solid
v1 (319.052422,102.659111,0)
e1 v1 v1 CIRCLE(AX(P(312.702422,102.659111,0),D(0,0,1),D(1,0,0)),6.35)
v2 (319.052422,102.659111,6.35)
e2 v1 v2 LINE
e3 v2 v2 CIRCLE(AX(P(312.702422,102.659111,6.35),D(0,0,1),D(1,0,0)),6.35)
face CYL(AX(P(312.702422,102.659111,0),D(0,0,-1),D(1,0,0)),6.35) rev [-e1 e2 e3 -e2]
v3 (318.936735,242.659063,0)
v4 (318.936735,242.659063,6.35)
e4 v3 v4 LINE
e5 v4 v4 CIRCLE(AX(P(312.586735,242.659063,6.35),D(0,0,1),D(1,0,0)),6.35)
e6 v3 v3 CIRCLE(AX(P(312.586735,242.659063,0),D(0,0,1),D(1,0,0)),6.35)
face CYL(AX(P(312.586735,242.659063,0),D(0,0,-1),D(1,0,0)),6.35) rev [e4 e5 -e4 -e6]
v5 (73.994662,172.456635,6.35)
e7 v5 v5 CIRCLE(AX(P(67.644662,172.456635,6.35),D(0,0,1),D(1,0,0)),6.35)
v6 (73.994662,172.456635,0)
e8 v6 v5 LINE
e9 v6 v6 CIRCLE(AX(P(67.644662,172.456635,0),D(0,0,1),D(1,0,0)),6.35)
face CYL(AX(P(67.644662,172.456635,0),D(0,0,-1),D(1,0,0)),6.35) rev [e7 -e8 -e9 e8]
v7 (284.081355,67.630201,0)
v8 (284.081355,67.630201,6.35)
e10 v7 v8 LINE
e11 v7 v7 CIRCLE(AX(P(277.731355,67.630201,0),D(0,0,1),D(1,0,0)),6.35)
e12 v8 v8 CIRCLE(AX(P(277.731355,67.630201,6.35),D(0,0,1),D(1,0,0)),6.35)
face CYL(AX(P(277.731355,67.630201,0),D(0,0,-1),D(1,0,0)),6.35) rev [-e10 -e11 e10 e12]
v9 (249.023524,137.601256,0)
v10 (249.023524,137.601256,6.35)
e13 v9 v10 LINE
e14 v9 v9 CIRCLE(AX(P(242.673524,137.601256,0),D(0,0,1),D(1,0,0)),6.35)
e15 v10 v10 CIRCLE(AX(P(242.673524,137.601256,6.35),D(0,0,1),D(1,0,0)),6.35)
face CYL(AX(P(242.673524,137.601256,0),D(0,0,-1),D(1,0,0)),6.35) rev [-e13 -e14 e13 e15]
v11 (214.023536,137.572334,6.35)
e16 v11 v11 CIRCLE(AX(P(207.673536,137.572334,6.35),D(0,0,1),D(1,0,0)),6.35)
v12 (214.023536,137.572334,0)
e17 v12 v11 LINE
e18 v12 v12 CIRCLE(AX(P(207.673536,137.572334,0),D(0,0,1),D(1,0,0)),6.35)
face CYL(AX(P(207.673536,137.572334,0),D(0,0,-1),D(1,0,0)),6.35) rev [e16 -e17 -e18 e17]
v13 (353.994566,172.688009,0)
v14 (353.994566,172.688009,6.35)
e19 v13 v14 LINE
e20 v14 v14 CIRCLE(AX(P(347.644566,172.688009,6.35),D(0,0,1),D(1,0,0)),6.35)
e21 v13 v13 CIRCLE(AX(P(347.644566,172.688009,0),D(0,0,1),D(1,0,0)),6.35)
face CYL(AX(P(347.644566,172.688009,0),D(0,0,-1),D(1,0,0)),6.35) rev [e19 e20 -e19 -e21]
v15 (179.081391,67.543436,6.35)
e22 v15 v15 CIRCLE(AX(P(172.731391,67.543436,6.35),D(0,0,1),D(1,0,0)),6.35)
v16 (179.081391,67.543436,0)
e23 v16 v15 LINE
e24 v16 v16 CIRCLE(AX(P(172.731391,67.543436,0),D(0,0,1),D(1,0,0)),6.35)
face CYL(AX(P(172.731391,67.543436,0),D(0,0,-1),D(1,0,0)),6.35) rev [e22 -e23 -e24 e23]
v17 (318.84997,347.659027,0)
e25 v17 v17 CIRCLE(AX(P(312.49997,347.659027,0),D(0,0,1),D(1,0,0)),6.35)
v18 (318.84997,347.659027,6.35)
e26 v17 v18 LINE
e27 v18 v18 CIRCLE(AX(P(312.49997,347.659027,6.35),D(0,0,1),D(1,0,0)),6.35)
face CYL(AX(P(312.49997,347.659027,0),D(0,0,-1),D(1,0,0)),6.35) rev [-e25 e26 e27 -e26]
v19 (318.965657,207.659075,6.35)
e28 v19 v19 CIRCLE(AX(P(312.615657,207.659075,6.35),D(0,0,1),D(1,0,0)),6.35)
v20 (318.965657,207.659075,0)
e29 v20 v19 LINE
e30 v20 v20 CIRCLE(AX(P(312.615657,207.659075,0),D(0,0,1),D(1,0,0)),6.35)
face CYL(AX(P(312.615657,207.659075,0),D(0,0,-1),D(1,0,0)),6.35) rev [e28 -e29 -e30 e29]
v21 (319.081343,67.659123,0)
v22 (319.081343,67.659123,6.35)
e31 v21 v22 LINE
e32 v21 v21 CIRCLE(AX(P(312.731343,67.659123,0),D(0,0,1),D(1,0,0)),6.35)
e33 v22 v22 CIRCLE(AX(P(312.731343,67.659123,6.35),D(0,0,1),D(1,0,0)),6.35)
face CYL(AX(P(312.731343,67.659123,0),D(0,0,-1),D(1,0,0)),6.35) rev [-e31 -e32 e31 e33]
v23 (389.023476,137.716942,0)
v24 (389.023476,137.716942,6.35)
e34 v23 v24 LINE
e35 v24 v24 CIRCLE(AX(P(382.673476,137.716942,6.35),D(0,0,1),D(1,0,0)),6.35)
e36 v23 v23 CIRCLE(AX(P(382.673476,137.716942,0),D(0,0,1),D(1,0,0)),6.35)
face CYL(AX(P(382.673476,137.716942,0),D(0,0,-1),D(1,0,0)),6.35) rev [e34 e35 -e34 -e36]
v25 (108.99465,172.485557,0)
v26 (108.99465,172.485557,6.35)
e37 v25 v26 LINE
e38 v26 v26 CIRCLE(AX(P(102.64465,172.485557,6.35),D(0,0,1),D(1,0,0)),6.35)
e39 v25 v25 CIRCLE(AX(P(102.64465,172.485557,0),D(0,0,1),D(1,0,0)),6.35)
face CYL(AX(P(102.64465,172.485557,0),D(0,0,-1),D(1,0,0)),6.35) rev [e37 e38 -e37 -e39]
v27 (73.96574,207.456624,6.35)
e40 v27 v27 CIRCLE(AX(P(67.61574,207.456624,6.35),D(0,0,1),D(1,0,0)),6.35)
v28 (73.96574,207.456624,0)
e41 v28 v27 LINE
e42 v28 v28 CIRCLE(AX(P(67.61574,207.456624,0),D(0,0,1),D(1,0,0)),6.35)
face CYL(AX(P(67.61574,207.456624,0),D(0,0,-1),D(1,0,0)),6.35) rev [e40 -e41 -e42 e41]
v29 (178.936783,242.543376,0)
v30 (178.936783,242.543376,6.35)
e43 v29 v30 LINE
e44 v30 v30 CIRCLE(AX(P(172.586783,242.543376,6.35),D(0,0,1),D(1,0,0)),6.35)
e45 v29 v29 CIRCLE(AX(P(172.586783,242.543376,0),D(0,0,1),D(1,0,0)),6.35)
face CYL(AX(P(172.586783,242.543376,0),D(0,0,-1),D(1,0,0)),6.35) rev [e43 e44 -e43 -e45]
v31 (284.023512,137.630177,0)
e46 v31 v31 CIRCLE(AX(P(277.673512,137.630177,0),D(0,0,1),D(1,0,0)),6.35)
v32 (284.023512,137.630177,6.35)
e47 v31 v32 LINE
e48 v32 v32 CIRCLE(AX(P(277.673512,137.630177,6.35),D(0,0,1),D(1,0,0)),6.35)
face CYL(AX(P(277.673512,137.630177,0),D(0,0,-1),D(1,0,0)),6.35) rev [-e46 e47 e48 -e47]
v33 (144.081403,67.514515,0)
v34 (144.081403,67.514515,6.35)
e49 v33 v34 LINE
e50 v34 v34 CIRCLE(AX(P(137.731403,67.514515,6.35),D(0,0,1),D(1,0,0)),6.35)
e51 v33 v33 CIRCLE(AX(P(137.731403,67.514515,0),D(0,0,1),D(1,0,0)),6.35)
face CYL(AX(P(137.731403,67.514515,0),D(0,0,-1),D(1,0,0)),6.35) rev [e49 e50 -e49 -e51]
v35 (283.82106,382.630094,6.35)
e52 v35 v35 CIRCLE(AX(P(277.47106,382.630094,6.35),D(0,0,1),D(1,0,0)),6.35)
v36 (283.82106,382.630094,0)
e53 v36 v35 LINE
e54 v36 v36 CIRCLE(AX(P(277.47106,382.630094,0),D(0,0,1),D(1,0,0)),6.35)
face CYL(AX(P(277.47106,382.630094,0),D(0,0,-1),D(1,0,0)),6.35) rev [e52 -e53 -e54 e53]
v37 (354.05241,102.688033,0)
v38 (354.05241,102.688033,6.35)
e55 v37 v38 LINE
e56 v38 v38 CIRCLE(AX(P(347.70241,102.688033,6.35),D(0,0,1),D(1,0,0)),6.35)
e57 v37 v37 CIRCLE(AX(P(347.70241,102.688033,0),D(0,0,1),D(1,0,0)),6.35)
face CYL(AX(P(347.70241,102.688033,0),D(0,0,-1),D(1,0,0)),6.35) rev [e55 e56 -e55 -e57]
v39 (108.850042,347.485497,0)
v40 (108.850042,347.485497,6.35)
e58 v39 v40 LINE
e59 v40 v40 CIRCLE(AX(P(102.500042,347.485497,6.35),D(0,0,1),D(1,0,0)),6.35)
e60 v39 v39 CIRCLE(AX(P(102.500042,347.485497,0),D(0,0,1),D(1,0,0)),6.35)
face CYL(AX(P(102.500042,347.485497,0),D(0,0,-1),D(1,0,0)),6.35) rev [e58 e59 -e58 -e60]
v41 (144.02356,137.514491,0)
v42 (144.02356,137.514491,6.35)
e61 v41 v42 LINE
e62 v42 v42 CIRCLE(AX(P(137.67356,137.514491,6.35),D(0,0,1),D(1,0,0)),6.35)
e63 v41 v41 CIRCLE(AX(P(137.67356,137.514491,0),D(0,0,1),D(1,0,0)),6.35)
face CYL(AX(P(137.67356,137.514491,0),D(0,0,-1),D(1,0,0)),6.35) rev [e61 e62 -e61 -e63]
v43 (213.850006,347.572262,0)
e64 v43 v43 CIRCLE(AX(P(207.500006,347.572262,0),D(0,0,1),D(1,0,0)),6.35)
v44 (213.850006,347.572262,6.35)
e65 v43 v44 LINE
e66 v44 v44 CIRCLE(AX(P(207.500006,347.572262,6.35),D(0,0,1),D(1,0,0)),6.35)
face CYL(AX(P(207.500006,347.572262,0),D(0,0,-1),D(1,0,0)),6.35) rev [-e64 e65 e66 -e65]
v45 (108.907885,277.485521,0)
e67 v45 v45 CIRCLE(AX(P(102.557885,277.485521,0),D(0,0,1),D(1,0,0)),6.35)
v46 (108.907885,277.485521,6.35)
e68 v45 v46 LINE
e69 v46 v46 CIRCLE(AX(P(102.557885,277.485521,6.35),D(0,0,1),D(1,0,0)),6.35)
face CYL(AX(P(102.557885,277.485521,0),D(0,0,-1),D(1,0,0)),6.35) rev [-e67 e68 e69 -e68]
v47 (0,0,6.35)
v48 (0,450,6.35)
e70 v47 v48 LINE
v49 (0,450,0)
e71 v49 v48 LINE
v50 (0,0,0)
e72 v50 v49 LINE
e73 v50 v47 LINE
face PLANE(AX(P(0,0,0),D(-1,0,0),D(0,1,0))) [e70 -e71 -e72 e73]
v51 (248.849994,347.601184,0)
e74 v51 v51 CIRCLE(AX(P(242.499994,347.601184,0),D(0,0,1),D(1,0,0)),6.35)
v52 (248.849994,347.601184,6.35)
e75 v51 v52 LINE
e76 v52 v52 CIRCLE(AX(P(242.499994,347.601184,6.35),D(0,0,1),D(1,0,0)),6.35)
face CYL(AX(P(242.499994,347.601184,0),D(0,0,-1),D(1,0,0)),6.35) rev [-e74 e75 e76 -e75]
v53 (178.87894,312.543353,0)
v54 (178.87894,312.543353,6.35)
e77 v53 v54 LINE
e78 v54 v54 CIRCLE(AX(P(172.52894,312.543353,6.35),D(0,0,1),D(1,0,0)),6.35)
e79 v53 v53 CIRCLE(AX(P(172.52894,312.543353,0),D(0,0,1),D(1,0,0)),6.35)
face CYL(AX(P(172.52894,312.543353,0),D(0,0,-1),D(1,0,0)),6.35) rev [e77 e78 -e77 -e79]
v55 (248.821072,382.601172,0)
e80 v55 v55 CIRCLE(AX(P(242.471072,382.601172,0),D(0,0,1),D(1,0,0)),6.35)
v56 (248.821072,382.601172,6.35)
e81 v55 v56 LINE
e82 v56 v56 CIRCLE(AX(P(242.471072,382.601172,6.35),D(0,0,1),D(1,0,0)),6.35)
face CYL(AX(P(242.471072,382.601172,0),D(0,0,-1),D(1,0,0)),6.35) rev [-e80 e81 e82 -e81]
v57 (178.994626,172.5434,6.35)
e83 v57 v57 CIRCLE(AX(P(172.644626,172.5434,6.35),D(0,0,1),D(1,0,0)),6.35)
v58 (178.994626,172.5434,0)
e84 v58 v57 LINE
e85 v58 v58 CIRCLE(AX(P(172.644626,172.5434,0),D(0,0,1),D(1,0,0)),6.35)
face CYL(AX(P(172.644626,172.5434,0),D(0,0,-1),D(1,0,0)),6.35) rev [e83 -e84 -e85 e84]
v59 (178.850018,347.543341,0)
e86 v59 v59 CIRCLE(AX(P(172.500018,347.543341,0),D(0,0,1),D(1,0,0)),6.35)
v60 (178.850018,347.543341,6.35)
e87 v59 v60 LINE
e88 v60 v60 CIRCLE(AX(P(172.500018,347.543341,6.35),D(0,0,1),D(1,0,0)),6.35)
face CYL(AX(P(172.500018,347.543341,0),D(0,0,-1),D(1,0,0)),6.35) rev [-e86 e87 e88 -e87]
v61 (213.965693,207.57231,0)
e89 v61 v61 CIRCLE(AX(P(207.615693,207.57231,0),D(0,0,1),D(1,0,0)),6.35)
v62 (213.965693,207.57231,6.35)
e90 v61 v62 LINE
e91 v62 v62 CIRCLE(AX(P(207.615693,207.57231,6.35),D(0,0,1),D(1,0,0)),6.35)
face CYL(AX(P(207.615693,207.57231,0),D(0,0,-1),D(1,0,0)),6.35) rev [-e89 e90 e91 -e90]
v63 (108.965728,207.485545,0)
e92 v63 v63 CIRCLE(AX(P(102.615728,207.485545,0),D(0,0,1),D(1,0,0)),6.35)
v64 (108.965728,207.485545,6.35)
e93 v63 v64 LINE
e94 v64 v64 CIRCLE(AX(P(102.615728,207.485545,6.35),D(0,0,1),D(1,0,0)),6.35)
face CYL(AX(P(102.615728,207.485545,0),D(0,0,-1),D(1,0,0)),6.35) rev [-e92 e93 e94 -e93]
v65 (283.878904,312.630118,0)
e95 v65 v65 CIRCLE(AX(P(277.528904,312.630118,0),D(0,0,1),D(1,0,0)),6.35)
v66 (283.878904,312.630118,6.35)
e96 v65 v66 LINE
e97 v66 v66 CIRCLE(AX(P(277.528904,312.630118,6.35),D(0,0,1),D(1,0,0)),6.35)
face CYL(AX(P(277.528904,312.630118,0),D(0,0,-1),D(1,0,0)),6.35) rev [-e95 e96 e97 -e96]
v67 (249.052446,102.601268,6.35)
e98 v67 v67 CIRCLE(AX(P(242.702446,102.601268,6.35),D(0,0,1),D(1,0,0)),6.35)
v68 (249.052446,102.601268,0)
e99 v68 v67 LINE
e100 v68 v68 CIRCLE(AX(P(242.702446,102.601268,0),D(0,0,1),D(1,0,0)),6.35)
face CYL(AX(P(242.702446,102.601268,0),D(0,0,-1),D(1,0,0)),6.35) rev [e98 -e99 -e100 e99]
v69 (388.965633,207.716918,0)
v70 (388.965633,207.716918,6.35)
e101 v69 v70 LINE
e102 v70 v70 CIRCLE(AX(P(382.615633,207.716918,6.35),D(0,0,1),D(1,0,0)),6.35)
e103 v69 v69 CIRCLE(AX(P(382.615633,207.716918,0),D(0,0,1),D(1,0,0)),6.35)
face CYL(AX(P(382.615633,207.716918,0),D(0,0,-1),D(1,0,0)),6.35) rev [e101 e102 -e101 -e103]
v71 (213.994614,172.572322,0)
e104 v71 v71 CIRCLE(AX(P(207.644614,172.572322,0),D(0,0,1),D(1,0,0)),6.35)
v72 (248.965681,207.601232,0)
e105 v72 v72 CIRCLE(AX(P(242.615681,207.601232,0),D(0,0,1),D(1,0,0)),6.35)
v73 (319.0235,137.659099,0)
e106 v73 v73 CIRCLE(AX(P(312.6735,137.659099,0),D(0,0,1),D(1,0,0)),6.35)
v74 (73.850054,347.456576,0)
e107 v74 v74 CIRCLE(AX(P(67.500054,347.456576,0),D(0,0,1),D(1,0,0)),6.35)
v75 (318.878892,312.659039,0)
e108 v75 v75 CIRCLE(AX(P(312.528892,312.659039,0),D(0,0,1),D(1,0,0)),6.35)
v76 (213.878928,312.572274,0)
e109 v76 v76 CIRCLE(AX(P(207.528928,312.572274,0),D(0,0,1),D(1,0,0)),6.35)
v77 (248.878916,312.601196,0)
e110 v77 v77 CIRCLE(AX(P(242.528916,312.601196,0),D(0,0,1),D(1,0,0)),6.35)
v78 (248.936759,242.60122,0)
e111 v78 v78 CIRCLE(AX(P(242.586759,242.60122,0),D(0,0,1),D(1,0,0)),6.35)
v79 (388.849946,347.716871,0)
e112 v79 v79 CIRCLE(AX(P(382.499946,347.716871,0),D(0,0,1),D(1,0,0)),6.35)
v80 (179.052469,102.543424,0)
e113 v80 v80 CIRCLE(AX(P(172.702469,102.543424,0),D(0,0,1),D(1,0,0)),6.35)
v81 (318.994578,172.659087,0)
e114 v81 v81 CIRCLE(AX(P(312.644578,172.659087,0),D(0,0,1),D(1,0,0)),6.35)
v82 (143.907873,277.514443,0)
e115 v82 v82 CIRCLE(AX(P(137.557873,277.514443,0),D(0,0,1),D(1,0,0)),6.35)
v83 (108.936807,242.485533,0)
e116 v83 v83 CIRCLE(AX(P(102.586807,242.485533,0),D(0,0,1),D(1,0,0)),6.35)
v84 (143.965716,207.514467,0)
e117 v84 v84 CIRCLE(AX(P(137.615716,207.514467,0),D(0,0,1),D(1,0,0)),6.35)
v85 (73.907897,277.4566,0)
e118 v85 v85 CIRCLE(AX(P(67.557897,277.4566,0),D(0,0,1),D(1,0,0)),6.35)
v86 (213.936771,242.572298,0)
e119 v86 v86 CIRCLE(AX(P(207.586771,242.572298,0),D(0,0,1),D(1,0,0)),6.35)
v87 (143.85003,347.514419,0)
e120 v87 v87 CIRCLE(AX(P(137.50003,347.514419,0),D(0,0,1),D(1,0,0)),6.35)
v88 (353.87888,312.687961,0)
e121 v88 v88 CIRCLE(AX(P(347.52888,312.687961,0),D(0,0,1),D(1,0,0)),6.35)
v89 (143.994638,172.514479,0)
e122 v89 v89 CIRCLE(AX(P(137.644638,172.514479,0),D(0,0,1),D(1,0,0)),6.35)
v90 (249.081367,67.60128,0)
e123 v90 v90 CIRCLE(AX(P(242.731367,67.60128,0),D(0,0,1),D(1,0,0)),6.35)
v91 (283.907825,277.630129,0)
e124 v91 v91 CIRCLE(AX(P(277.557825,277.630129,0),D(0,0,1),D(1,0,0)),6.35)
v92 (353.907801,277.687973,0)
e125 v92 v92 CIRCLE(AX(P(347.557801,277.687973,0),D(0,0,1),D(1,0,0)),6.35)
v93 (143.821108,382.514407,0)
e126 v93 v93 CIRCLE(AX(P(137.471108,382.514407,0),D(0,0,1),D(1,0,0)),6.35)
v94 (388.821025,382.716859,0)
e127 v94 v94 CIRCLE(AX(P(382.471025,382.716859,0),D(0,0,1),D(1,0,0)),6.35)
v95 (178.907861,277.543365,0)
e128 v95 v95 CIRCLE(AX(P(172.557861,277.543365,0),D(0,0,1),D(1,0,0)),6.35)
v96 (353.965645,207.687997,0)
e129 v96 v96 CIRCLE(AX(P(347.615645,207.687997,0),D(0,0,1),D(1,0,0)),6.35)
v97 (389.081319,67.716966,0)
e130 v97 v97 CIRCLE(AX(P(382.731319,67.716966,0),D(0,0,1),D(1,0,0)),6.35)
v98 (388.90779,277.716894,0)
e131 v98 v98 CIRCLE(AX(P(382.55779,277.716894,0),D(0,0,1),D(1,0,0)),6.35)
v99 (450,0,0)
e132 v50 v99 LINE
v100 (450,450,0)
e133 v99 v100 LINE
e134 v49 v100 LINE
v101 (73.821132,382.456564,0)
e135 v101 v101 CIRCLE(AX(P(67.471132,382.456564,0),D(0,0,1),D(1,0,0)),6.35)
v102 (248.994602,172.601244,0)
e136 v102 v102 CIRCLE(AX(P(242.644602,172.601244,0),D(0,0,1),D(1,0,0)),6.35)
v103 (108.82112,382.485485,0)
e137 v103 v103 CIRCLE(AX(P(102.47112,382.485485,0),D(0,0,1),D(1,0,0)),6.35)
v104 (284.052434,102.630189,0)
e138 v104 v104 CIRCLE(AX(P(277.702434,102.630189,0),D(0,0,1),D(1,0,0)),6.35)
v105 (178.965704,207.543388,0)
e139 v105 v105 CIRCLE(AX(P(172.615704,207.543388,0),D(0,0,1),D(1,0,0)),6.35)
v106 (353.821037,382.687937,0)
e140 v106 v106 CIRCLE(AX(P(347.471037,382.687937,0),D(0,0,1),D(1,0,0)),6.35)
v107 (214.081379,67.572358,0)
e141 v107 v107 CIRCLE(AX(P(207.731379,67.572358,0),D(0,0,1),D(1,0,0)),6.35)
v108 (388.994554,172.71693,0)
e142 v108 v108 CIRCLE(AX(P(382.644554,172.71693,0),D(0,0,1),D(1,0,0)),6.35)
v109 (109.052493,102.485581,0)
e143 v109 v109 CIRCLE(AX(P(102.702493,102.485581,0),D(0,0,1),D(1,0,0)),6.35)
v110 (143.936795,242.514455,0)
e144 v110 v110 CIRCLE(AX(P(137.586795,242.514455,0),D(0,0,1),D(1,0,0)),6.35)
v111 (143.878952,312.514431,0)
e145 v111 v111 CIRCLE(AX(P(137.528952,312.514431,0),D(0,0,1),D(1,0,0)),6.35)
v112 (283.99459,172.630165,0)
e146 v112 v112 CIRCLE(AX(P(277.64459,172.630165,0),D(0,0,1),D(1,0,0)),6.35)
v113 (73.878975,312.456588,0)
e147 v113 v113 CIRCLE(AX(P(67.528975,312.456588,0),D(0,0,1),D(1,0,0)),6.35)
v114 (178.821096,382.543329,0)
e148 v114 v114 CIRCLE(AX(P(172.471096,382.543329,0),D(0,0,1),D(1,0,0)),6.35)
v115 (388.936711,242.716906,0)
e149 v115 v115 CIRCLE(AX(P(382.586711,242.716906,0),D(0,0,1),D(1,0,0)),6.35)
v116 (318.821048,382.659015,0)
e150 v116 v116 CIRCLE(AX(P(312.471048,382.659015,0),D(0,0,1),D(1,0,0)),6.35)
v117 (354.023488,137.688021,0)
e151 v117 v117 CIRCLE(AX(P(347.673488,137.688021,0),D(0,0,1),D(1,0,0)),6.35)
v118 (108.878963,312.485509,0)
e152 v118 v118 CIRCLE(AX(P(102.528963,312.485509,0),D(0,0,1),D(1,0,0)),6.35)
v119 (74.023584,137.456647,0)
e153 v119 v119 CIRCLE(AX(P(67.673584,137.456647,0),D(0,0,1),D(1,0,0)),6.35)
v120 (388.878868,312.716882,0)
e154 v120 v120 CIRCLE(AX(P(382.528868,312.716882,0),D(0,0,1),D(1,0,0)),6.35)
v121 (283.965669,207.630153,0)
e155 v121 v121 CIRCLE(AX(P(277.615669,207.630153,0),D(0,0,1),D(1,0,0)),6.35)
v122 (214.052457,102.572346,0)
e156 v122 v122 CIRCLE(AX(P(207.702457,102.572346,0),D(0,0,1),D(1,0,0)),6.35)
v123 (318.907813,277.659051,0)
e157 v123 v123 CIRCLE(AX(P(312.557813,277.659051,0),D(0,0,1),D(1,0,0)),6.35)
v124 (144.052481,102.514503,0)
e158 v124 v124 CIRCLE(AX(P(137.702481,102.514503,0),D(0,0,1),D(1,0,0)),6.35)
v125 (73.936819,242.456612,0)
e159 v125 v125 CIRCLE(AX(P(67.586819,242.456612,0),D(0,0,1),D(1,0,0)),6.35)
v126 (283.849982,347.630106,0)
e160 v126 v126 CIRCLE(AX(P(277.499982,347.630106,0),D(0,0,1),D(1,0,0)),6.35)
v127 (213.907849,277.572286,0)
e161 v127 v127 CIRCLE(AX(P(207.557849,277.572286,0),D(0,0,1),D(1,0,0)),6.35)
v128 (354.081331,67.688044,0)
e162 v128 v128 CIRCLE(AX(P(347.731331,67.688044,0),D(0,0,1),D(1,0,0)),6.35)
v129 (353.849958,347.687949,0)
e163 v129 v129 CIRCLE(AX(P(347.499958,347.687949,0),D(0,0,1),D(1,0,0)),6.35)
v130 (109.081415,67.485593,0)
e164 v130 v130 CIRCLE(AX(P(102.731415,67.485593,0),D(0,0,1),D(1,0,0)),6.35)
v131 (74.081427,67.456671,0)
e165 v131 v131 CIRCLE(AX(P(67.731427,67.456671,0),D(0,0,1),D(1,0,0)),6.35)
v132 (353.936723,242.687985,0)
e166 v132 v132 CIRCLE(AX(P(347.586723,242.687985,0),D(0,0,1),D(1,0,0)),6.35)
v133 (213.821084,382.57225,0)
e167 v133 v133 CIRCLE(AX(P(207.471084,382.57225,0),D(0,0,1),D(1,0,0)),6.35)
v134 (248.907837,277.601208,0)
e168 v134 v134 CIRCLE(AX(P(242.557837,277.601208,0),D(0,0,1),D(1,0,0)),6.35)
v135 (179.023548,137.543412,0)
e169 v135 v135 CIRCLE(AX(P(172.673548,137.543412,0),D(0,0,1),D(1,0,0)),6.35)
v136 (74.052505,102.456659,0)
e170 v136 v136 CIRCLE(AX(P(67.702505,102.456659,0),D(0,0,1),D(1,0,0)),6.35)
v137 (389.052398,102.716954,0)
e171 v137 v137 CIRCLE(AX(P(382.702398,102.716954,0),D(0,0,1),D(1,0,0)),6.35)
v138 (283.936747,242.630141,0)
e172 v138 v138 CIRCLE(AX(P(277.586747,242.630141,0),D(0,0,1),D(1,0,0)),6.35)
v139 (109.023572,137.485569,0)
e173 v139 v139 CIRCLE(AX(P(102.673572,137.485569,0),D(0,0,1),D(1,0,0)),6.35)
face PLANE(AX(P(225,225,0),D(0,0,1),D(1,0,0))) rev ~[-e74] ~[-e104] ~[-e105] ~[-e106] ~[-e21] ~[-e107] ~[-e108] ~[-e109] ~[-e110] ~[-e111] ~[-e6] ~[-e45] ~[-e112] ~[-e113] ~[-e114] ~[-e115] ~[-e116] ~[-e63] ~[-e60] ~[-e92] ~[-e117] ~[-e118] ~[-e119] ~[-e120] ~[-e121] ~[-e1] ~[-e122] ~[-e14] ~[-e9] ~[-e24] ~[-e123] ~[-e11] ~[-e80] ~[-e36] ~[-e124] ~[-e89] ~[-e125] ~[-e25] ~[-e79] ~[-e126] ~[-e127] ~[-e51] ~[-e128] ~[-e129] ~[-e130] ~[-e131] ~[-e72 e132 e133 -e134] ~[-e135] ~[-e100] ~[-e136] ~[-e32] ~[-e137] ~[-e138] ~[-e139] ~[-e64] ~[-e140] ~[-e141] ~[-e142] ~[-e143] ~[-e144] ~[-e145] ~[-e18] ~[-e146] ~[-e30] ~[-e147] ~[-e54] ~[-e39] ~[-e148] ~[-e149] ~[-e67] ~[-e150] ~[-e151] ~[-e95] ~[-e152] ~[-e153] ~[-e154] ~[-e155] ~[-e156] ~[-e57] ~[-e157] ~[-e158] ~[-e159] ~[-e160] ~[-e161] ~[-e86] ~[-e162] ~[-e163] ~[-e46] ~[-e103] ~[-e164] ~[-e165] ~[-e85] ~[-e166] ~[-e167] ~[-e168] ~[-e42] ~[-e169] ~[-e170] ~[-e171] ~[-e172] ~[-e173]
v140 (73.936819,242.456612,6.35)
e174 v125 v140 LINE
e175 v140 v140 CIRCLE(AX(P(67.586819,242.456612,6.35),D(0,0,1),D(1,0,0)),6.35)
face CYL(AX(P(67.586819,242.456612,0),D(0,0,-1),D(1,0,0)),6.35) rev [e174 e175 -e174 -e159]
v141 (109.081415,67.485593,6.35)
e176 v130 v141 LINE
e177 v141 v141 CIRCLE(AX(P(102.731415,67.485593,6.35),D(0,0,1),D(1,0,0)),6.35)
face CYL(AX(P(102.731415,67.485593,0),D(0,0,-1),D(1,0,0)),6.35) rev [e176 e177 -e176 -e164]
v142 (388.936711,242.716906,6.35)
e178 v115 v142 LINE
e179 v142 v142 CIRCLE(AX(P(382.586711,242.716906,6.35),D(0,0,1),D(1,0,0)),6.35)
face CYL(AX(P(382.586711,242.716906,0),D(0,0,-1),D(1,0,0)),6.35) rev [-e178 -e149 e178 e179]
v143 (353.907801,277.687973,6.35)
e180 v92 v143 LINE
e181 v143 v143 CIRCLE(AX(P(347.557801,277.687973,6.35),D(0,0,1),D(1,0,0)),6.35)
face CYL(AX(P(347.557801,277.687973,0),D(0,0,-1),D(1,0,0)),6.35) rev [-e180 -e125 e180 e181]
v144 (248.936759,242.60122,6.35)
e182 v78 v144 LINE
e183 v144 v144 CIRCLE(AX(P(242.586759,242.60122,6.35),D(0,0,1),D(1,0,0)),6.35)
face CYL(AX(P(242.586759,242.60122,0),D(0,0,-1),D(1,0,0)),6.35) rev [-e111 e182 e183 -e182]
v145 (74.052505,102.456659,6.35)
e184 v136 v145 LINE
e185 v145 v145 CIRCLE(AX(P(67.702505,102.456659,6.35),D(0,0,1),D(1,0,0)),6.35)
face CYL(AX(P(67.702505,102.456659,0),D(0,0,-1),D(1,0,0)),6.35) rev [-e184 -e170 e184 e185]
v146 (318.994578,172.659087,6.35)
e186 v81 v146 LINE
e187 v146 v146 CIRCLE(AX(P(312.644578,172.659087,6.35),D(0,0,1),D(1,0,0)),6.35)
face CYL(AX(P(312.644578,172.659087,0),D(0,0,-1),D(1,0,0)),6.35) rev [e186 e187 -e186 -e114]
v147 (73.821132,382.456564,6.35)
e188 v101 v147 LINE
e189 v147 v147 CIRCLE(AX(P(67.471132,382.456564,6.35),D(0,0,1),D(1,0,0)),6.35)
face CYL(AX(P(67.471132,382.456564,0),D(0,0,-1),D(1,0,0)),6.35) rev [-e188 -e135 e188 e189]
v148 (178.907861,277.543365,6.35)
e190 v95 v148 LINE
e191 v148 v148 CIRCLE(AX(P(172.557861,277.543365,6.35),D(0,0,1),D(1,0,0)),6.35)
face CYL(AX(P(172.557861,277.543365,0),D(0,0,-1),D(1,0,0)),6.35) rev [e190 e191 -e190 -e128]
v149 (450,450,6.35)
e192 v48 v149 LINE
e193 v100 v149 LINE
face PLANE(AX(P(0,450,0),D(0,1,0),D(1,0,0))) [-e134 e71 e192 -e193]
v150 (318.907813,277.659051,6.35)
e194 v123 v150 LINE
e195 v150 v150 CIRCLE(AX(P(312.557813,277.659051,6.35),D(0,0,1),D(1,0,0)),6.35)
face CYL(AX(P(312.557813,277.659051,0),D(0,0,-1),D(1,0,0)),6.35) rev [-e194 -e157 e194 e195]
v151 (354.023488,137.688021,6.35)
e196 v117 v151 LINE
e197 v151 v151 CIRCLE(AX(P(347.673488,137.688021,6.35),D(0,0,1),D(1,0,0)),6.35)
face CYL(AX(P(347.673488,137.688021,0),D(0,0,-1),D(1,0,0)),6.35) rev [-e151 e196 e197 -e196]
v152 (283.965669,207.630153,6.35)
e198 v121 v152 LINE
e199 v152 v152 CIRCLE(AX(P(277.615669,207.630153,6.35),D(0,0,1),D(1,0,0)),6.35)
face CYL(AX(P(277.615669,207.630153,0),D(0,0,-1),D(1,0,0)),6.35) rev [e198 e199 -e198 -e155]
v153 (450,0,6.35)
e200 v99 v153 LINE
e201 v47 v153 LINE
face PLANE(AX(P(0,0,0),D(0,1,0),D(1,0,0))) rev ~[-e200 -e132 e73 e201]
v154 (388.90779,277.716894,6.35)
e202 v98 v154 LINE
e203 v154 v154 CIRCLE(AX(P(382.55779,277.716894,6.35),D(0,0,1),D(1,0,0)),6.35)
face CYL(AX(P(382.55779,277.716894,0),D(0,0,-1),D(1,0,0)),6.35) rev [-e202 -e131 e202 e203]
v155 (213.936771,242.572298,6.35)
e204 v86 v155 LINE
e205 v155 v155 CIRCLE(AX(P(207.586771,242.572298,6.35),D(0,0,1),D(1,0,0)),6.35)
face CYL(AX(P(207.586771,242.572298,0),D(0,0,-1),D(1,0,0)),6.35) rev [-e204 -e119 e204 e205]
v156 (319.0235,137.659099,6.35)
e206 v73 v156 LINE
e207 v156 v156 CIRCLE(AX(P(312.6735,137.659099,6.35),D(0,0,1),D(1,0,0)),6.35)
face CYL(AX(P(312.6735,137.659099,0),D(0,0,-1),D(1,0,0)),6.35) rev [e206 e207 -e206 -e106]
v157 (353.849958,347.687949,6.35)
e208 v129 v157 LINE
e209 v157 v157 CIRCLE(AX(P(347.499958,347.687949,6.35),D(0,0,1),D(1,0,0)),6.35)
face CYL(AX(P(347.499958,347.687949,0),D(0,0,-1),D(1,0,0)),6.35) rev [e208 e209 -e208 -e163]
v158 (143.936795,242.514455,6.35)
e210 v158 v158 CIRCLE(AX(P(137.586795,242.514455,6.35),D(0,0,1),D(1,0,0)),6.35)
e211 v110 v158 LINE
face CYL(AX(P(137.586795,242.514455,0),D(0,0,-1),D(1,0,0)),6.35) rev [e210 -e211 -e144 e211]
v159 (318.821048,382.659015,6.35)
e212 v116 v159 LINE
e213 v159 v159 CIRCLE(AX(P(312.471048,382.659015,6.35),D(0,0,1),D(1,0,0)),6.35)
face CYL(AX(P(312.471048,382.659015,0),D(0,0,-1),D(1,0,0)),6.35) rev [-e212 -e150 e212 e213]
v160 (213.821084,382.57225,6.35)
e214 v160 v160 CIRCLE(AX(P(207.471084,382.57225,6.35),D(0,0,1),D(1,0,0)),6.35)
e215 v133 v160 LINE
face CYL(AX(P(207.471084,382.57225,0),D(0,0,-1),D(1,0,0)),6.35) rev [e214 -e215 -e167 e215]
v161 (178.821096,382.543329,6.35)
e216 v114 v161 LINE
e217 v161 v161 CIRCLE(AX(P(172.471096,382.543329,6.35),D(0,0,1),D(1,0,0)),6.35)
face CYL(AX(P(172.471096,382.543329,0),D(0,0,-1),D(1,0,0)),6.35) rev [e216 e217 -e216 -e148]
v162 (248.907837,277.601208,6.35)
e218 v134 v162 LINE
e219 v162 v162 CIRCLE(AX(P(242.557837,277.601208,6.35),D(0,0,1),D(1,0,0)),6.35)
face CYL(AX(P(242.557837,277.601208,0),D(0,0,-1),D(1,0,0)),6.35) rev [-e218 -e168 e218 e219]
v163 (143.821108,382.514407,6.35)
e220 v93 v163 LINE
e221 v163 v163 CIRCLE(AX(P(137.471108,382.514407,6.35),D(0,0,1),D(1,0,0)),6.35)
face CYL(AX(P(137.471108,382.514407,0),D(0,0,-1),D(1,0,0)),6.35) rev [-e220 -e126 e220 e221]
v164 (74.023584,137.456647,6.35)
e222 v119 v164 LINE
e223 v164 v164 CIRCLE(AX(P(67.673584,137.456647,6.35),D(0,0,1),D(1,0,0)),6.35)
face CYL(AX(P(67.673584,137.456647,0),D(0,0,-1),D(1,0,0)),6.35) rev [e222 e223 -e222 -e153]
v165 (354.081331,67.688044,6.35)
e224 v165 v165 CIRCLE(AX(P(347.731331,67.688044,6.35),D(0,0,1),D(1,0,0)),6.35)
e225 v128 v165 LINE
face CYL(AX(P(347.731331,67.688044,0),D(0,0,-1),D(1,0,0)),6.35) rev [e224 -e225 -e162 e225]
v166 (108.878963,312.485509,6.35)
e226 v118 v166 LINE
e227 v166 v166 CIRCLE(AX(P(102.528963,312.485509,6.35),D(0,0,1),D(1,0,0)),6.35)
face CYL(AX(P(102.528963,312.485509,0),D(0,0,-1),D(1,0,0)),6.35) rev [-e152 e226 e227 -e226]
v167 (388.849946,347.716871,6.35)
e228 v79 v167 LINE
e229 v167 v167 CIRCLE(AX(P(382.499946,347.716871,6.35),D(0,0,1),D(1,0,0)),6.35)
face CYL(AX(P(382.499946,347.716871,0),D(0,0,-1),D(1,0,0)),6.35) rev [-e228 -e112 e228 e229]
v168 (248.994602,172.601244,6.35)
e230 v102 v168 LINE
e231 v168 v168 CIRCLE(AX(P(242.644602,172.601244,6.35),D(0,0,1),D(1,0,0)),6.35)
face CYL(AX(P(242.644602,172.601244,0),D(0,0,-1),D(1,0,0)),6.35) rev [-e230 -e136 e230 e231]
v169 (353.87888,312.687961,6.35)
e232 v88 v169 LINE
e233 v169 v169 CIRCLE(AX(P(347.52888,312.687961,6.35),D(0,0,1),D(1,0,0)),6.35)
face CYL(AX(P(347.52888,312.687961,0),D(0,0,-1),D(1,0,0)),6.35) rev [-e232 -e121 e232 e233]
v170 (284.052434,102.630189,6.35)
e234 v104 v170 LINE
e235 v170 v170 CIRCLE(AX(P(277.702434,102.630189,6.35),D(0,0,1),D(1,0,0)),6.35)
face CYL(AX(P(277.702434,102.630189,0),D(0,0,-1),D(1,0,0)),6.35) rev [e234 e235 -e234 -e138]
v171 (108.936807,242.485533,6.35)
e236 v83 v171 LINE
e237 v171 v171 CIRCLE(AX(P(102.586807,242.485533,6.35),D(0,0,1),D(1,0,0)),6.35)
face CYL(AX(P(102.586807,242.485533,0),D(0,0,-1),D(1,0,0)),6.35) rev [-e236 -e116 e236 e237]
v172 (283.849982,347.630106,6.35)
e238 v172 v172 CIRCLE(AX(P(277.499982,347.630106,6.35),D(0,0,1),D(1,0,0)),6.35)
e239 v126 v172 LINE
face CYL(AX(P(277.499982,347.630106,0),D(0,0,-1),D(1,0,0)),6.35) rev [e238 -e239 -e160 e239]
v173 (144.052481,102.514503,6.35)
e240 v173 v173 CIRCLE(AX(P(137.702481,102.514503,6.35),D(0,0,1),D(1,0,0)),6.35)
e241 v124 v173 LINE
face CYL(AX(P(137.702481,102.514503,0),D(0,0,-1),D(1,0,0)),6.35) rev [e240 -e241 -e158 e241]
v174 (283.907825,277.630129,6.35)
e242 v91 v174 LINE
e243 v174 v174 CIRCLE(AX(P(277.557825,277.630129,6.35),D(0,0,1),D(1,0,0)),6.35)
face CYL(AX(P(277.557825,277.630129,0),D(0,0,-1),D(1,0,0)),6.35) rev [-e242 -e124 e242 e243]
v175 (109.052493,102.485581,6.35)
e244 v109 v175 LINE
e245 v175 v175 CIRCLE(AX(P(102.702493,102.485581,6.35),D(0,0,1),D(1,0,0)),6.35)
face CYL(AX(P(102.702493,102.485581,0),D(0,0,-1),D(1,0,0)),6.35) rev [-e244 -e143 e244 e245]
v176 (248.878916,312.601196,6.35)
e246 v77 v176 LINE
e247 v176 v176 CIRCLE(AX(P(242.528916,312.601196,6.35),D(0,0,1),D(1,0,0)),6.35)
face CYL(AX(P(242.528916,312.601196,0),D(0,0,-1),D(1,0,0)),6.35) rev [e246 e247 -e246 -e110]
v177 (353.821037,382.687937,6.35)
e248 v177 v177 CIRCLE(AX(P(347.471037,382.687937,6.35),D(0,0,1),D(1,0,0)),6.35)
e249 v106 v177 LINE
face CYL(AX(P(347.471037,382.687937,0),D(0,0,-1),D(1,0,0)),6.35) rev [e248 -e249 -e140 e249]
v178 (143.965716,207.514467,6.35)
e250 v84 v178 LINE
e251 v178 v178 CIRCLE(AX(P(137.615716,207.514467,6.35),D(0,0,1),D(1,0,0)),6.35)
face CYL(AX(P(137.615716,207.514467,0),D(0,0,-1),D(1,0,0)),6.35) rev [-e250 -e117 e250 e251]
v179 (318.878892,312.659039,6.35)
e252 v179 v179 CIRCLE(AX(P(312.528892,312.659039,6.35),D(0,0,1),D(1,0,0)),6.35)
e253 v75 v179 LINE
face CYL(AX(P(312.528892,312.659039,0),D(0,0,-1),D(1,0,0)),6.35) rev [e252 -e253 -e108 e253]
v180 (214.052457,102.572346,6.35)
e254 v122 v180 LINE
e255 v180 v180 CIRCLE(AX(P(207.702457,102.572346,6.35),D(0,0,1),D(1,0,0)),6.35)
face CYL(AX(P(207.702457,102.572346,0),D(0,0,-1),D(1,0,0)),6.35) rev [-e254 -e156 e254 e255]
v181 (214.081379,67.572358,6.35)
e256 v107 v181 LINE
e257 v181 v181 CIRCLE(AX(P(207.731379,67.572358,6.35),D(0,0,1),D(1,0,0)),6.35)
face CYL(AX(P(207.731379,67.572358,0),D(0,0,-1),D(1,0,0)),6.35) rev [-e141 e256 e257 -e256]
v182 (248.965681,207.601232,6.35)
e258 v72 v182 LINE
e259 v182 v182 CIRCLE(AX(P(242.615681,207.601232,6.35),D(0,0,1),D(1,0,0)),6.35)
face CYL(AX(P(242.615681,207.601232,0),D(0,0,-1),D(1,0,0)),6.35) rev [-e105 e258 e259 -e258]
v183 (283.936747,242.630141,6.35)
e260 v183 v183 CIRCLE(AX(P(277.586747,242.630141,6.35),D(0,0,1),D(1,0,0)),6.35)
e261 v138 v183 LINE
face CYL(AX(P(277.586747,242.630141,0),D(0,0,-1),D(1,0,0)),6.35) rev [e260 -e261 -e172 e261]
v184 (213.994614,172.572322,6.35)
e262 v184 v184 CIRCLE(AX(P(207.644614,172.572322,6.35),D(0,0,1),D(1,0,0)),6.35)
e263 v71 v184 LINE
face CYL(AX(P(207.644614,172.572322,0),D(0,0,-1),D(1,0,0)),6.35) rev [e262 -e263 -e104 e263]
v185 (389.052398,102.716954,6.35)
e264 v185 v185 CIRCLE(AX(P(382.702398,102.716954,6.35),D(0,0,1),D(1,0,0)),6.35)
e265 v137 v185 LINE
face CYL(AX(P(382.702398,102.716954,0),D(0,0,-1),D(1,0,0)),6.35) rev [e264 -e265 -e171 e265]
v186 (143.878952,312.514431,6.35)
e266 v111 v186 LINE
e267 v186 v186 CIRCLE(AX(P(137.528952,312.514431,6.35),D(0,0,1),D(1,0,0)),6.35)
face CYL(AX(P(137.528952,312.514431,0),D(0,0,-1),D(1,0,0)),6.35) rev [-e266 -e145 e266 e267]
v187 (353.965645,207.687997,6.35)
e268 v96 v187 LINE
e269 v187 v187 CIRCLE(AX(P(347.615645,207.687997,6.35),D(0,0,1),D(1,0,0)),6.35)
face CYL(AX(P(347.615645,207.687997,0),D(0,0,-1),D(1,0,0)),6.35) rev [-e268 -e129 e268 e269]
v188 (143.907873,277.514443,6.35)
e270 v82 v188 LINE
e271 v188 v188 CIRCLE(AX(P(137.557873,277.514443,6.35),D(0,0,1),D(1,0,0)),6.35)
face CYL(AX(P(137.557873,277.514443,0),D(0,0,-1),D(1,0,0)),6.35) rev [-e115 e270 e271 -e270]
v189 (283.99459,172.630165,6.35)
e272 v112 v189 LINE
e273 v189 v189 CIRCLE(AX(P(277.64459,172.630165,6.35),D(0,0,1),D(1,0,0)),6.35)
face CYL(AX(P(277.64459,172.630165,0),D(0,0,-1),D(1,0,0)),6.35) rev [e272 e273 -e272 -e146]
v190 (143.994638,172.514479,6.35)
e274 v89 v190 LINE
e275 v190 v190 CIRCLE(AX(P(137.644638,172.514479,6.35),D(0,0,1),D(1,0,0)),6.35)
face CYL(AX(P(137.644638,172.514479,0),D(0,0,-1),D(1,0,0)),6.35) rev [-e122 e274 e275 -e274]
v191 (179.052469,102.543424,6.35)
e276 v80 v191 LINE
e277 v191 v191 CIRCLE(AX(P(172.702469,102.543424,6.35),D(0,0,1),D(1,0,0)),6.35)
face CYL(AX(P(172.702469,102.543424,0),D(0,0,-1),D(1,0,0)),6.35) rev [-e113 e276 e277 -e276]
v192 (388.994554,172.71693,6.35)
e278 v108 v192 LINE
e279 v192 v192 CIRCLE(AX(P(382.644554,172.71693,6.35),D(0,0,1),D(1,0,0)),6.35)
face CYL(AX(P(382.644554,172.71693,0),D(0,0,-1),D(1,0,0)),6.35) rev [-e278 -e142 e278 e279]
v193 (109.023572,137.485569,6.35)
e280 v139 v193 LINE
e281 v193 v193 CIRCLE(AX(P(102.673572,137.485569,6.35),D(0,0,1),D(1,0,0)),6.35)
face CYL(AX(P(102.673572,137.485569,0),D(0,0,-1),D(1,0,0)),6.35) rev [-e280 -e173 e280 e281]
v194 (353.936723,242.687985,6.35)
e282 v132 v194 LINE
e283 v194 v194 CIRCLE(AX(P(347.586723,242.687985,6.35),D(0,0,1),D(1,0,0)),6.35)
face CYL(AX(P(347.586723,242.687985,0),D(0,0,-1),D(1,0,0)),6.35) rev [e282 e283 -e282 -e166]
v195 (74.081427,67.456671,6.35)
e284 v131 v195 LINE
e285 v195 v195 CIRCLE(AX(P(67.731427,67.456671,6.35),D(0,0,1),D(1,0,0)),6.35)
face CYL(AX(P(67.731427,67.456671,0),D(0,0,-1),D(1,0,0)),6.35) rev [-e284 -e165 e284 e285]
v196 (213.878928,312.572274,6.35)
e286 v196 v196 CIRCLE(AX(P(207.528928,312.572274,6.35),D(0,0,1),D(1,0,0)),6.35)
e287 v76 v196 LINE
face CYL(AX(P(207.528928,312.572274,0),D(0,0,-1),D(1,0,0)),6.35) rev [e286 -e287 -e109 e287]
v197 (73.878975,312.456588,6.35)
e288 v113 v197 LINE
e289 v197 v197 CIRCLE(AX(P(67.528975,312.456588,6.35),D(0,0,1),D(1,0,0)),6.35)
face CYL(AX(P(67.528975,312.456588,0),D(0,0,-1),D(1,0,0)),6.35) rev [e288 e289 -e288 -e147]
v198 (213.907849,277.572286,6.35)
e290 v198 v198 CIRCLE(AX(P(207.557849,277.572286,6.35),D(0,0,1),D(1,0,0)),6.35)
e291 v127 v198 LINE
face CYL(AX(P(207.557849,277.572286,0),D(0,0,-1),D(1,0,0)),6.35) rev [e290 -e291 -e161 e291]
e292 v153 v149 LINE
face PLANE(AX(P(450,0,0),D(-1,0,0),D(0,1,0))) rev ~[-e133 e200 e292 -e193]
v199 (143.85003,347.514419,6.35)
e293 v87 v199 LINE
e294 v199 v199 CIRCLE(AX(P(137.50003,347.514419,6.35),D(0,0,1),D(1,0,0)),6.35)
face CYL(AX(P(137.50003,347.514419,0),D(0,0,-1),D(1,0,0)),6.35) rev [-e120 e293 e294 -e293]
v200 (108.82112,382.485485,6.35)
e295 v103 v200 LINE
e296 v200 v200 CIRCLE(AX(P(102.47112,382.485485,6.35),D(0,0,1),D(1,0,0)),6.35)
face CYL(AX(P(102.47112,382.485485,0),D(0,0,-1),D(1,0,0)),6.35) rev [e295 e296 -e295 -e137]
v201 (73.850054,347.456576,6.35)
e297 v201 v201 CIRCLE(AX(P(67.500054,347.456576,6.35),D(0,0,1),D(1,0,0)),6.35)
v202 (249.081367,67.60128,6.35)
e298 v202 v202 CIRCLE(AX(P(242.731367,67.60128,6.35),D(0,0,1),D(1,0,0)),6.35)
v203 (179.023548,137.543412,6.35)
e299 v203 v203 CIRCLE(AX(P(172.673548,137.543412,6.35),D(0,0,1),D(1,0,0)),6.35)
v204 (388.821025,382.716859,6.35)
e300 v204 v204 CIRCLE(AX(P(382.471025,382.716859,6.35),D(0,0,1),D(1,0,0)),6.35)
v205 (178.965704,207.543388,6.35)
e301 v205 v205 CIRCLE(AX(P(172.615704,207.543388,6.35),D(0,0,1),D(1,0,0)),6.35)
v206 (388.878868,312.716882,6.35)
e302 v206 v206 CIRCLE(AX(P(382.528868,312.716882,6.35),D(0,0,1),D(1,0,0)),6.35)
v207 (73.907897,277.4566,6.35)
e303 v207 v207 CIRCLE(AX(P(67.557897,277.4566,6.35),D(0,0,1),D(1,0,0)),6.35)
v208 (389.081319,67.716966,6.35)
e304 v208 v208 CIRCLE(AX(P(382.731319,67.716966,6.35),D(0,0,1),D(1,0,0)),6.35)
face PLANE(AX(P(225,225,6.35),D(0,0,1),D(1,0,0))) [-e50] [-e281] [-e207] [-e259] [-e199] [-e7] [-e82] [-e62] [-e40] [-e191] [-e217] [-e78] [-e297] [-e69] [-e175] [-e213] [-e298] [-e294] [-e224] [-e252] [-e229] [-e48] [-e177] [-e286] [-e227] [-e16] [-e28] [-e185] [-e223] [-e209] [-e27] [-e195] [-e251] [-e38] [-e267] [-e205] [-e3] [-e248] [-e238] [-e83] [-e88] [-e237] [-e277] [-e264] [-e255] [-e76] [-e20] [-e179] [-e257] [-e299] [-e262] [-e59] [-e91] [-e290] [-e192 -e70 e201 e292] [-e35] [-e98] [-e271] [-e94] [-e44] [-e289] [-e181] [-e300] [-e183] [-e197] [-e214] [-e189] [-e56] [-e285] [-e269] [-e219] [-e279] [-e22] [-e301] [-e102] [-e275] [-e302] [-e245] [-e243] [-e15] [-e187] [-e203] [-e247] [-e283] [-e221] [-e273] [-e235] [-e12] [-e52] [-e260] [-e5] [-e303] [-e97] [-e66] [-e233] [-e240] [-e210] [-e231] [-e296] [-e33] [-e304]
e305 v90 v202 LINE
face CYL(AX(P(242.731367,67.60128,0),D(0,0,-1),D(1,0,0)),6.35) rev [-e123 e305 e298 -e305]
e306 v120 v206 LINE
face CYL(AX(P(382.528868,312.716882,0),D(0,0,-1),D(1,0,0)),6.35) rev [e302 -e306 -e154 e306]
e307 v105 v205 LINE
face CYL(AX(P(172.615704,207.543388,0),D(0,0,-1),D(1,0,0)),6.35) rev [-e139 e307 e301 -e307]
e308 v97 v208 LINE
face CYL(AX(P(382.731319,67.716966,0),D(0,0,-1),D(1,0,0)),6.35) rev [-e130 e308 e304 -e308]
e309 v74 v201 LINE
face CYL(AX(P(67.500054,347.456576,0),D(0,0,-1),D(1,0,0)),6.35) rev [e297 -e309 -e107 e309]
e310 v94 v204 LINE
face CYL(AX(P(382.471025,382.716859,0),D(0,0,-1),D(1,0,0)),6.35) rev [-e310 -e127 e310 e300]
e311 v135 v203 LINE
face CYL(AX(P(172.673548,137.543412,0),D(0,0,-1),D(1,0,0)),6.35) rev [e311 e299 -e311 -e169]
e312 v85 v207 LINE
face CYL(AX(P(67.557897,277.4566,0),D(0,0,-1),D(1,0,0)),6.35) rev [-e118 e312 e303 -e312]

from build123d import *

# Parameters (mm, degrees)
SKETCH_W  = 450
SKETCH_H  = 450
SKETCH_R  = 6.35
PAD_DEPTH = 6.35


with BuildPart() as part:
    # Sketch → Pad (new body)
    with BuildSketch(Plane.XY):
        with Locations((225, 225)):
            Rectangle(SKETCH_W, SKETCH_H)
        with Locations((67.471132, 382.456564)):
            Circle(SKETCH_R, mode=Mode.SUBTRACT)
        with Locations((102.47112, 382.485485)):
            Circle(SKETCH_R, mode=Mode.SUBTRACT)
        with Locations((137.471108, 382.514407)):
            Circle(SKETCH_R, mode=Mode.SUBTRACT)
        with Locations((172.471096, 382.543329)):
            Circle(SKETCH_R, mode=Mode.SUBTRACT)
        with Locations((207.471084, 382.57225)):
            Circle(SKETCH_R, mode=Mode.SUBTRACT)
        with Locations((242.471072, 382.601172)):
            Circle(SKETCH_R, mode=Mode.SUBTRACT)
        with Locations((277.47106, 382.630094)):
            Circle(SKETCH_R, mode=Mode.SUBTRACT)
        with Locations((312.471048, 382.659015)):
            Circle(SKETCH_R, mode=Mode.SUBTRACT)
        with Locations((347.471037, 382.687937)):
            Circle(SKETCH_R, mode=Mode.SUBTRACT)
        with Locations((382.471025, 382.716859)):
            Circle(SKETCH_R, mode=Mode.SUBTRACT)
        with Locations((67.500054, 347.456576)):
            Circle(SKETCH_R, mode=Mode.SUBTRACT)
        with Locations((102.500042, 347.485497)):
            Circle(SKETCH_R, mode=Mode.SUBTRACT)
        with Locations((137.50003, 347.514419)):
            Circle(SKETCH_R, mode=Mode.SUBTRACT)
        with Locations((172.500018, 347.543341)):
            Circle(SKETCH_R, mode=Mode.SUBTRACT)
        with Locations((207.500006, 347.572262)):
            Circle(SKETCH_R, mode=Mode.SUBTRACT)
        with Locations((242.499994, 347.601184)):
            Circle(SKETCH_R, mode=Mode.SUBTRACT)
        with Locations((277.499982, 347.630106)):
            Circle(SKETCH_R, mode=Mode.SUBTRACT)
        with Locations((312.49997, 347.659027)):
            Circle(SKETCH_R, mode=Mode.SUBTRACT)
        with Locations((347.499958, 347.687949)):
            Circle(SKETCH_R, mode=Mode.SUBTRACT)
        with Locations((382.499946, 347.716871)):
            Circle(SKETCH_R, mode=Mode.SUBTRACT)
        with Locations((67.528975, 312.456588)):
            Circle(SKETCH_R, mode=Mode.SUBTRACT)
        with Locations((102.528963, 312.485509)):
            Circle(SKETCH_R, mode=Mode.SUBTRACT)
        with Locations((137.528952, 312.514431)):
            Circle(SKETCH_R, mode=Mode.SUBTRACT)
        with Locations((172.52894, 312.543353)):
            Circle(SKETCH_R, mode=Mode.SUBTRACT)
        with Locations((207.528928, 312.572274)):
            Circle(SKETCH_R, mode=Mode.SUBTRACT)
        with Locations((242.528916, 312.601196)):
            Circle(SKETCH_R, mode=Mode.SUBTRACT)
        with Locations((277.528904, 312.630118)):
            Circle(SKETCH_R, mode=Mode.SUBTRACT)
        with Locations((312.528892, 312.659039)):
            Circle(SKETCH_R, mode=Mode.SUBTRACT)
        with Locations((347.52888, 312.687961)):
            Circle(SKETCH_R, mode=Mode.SUBTRACT)
        with Locations((382.528868, 312.716882)):
            Circle(SKETCH_R, mode=Mode.SUBTRACT)
        with Locations((67.557897, 277.4566)):
            Circle(SKETCH_R, mode=Mode.SUBTRACT)
        with Locations((102.557885, 277.485521)):
            Circle(SKETCH_R, mode=Mode.SUBTRACT)
        with Locations((137.557873, 277.514443)):
            Circle(SKETCH_R, mode=Mode.SUBTRACT)
        with Locations((172.557861, 277.543365)):
            Circle(SKETCH_R, mode=Mode.SUBTRACT)
        with Locations((207.557849, 277.572286)):
            Circle(SKETCH_R, mode=Mode.SUBTRACT)
        with Locations((242.557837, 277.601208)):
            Circle(SKETCH_R, mode=Mode.SUBTRACT)
        with Locations((277.557825, 277.630129)):
            Circle(SKETCH_R, mode=Mode.SUBTRACT)
        with Locations((312.557813, 277.659051)):
            Circle(SKETCH_R, mode=Mode.SUBTRACT)
        with Locations((347.557801, 277.687973)):
            Circle(SKETCH_R, mode=Mode.SUBTRACT)
        with Locations((382.55779, 277.716894)):
            Circle(SKETCH_R, mode=Mode.SUBTRACT)
        with Locations((67.586819, 242.456612)):
            Circle(SKETCH_R, mode=Mode.SUBTRACT)
        with Locations((102.586807, 242.485533)):
            Circle(SKETCH_R, mode=Mode.SUBTRACT)
        with Locations((137.586795, 242.514455)):
            Circle(SKETCH_R, mode=Mode.SUBTRACT)
        with Locations((172.586783, 242.543376)):
            Circle(SKETCH_R, mode=Mode.SUBTRACT)
        with Locations((207.586771, 242.572298)):
            Circle(SKETCH_R, mode=Mode.SUBTRACT)
        with Locations((242.586759, 242.60122)):
            Circle(SKETCH_R, mode=Mode.SUBTRACT)
        with Locations((277.586747, 242.630141)):
            Circle(SKETCH_R, mode=Mode.SUBTRACT)
        with Locations((312.586735, 242.659063)):
            Circle(SKETCH_R, mode=Mode.SUBTRACT)
        with Locations((347.586723, 242.687985)):
            Circle(SKETCH_R, mode=Mode.SUBTRACT)
        with Locations((382.586711, 242.716906)):
            Circle(SKETCH_R, mode=Mode.SUBTRACT)
        with Locations((67.61574, 207.456624)):
            Circle(SKETCH_R, mode=Mode.SUBTRACT)
        with Locations((102.615728, 207.485545)):
            Circle(SKETCH_R, mode=Mode.SUBTRACT)
        with Locations((137.615716, 207.514467)):
            Circle(SKETCH_R, mode=Mode.SUBTRACT)
        with Locations((172.615704, 207.543388)):
            Circle(SKETCH_R, mode=Mode.SUBTRACT)
        with Locations((207.615693, 207.57231)):
            Circle(SKETCH_R, mode=Mode.SUBTRACT)
        with Locations((242.615681, 207.601232)):
            Circle(SKETCH_R, mode=Mode.SUBTRACT)
        with Locations((277.615669, 207.630153)):
            Circle(SKETCH_R, mode=Mode.SUBTRACT)
        with Locations((312.615657, 207.659075)):
            Circle(SKETCH_R, mode=Mode.SUBTRACT)
        with Locations((347.615645, 207.687997)):
            Circle(SKETCH_R, mode=Mode.SUBTRACT)
        with Locations((382.615633, 207.716918)):
            Circle(SKETCH_R, mode=Mode.SUBTRACT)
        with Locations((67.644662, 172.456635)):
            Circle(SKETCH_R, mode=Mode.SUBTRACT)
        with Locations((102.64465, 172.485557)):
            Circle(SKETCH_R, mode=Mode.SUBTRACT)
        with Locations((137.644638, 172.514479)):
            Circle(SKETCH_R, mode=Mode.SUBTRACT)
        with Locations((172.644626, 172.5434)):
            Circle(SKETCH_R, mode=Mode.SUBTRACT)
        with Locations((207.644614, 172.572322)):
            Circle(SKETCH_R, mode=Mode.SUBTRACT)
        with Locations((242.644602, 172.601244)):
            Circle(SKETCH_R, mode=Mode.SUBTRACT)
        with Locations((277.64459, 172.630165)):
            Circle(SKETCH_R, mode=Mode.SUBTRACT)
        with Locations((312.644578, 172.659087)):
            Circle(SKETCH_R, mode=Mode.SUBTRACT)
        with Locations((347.644566, 172.688009)):
            Circle(SKETCH_R, mode=Mode.SUBTRACT)
        with Locations((382.644554, 172.71693)):
            Circle(SKETCH_R, mode=Mode.SUBTRACT)
        with Locations((67.673584, 137.456647)):
            Circle(SKETCH_R, mode=Mode.SUBTRACT)
        with Locations((102.673572, 137.485569)):
            Circle(SKETCH_R, mode=Mode.SUBTRACT)
        with Locations((137.67356, 137.514491)):
            Circle(SKETCH_R, mode=Mode.SUBTRACT)
        with Locations((172.673548, 137.543412)):
            Circle(SKETCH_R, mode=Mode.SUBTRACT)
        with Locations((207.673536, 137.572334)):
            Circle(SKETCH_R, mode=Mode.SUBTRACT)
        with Locations((242.673524, 137.601256)):
            Circle(SKETCH_R, mode=Mode.SUBTRACT)
        with Locations((277.673512, 137.630177)):
            Circle(SKETCH_R, mode=Mode.SUBTRACT)
        with Locations((312.6735, 137.659099)):
            Circle(SKETCH_R, mode=Mode.SUBTRACT)
        with Locations((347.673488, 137.688021)):
            Circle(SKETCH_R, mode=Mode.SUBTRACT)
        with Locations((382.673476, 137.716942)):
            Circle(SKETCH_R, mode=Mode.SUBTRACT)
        with Locations((67.702505, 102.456659)):
            Circle(SKETCH_R, mode=Mode.SUBTRACT)
        with Locations((102.702493, 102.485581)):
            Circle(SKETCH_R, mode=Mode.SUBTRACT)
        with Locations((137.702481, 102.514503)):
            Circle(SKETCH_R, mode=Mode.SUBTRACT)
        with Locations((172.702469, 102.543424)):
            Circle(SKETCH_R, mode=Mode.SUBTRACT)
        with Locations((207.702457, 102.572346)):
            Circle(SKETCH_R, mode=Mode.SUBTRACT)
        with Locations((242.702446, 102.601268)):
            Circle(SKETCH_R, mode=Mode.SUBTRACT)
        with Locations((277.702434, 102.630189)):
            Circle(SKETCH_R, mode=Mode.SUBTRACT)
        with Locations((312.702422, 102.659111)):
            Circle(SKETCH_R, mode=Mode.SUBTRACT)
        with Locations((347.70241, 102.688033)):
            Circle(SKETCH_R, mode=Mode.SUBTRACT)
        with Locations((382.702398, 102.716954)):
            Circle(SKETCH_R, mode=Mode.SUBTRACT)
        with Locations((67.731427, 67.456671)):
            Circle(SKETCH_R, mode=Mode.SUBTRACT)
        with Locations((102.731415, 67.485593)):
            Circle(SKETCH_R, mode=Mode.SUBTRACT)
        with Locations((137.731403, 67.514515)):
            Circle(SKETCH_R, mode=Mode.SUBTRACT)
        with Locations((172.731391, 67.543436)):
            Circle(SKETCH_R, mode=Mode.SUBTRACT)
        with Locations((207.731379, 67.572358)):
            Circle(SKETCH_R, mode=Mode.SUBTRACT)
        with Locations((242.731367, 67.60128)):
            Circle(SKETCH_R, mode=Mode.SUBTRACT)
        with Locations((277.731355, 67.630201)):
            Circle(SKETCH_R, mode=Mode.SUBTRACT)
        with Locations((312.731343, 67.659123)):
            Circle(SKETCH_R, mode=Mode.SUBTRACT)
        with Locations((347.731331, 67.688044)):
            Circle(SKETCH_R, mode=Mode.SUBTRACT)
        with Locations((382.731319, 67.716966)):
            Circle(SKETCH_R, mode=Mode.SUBTRACT)
    extrude(amount=PAD_DEPTH)


solid = part.part
